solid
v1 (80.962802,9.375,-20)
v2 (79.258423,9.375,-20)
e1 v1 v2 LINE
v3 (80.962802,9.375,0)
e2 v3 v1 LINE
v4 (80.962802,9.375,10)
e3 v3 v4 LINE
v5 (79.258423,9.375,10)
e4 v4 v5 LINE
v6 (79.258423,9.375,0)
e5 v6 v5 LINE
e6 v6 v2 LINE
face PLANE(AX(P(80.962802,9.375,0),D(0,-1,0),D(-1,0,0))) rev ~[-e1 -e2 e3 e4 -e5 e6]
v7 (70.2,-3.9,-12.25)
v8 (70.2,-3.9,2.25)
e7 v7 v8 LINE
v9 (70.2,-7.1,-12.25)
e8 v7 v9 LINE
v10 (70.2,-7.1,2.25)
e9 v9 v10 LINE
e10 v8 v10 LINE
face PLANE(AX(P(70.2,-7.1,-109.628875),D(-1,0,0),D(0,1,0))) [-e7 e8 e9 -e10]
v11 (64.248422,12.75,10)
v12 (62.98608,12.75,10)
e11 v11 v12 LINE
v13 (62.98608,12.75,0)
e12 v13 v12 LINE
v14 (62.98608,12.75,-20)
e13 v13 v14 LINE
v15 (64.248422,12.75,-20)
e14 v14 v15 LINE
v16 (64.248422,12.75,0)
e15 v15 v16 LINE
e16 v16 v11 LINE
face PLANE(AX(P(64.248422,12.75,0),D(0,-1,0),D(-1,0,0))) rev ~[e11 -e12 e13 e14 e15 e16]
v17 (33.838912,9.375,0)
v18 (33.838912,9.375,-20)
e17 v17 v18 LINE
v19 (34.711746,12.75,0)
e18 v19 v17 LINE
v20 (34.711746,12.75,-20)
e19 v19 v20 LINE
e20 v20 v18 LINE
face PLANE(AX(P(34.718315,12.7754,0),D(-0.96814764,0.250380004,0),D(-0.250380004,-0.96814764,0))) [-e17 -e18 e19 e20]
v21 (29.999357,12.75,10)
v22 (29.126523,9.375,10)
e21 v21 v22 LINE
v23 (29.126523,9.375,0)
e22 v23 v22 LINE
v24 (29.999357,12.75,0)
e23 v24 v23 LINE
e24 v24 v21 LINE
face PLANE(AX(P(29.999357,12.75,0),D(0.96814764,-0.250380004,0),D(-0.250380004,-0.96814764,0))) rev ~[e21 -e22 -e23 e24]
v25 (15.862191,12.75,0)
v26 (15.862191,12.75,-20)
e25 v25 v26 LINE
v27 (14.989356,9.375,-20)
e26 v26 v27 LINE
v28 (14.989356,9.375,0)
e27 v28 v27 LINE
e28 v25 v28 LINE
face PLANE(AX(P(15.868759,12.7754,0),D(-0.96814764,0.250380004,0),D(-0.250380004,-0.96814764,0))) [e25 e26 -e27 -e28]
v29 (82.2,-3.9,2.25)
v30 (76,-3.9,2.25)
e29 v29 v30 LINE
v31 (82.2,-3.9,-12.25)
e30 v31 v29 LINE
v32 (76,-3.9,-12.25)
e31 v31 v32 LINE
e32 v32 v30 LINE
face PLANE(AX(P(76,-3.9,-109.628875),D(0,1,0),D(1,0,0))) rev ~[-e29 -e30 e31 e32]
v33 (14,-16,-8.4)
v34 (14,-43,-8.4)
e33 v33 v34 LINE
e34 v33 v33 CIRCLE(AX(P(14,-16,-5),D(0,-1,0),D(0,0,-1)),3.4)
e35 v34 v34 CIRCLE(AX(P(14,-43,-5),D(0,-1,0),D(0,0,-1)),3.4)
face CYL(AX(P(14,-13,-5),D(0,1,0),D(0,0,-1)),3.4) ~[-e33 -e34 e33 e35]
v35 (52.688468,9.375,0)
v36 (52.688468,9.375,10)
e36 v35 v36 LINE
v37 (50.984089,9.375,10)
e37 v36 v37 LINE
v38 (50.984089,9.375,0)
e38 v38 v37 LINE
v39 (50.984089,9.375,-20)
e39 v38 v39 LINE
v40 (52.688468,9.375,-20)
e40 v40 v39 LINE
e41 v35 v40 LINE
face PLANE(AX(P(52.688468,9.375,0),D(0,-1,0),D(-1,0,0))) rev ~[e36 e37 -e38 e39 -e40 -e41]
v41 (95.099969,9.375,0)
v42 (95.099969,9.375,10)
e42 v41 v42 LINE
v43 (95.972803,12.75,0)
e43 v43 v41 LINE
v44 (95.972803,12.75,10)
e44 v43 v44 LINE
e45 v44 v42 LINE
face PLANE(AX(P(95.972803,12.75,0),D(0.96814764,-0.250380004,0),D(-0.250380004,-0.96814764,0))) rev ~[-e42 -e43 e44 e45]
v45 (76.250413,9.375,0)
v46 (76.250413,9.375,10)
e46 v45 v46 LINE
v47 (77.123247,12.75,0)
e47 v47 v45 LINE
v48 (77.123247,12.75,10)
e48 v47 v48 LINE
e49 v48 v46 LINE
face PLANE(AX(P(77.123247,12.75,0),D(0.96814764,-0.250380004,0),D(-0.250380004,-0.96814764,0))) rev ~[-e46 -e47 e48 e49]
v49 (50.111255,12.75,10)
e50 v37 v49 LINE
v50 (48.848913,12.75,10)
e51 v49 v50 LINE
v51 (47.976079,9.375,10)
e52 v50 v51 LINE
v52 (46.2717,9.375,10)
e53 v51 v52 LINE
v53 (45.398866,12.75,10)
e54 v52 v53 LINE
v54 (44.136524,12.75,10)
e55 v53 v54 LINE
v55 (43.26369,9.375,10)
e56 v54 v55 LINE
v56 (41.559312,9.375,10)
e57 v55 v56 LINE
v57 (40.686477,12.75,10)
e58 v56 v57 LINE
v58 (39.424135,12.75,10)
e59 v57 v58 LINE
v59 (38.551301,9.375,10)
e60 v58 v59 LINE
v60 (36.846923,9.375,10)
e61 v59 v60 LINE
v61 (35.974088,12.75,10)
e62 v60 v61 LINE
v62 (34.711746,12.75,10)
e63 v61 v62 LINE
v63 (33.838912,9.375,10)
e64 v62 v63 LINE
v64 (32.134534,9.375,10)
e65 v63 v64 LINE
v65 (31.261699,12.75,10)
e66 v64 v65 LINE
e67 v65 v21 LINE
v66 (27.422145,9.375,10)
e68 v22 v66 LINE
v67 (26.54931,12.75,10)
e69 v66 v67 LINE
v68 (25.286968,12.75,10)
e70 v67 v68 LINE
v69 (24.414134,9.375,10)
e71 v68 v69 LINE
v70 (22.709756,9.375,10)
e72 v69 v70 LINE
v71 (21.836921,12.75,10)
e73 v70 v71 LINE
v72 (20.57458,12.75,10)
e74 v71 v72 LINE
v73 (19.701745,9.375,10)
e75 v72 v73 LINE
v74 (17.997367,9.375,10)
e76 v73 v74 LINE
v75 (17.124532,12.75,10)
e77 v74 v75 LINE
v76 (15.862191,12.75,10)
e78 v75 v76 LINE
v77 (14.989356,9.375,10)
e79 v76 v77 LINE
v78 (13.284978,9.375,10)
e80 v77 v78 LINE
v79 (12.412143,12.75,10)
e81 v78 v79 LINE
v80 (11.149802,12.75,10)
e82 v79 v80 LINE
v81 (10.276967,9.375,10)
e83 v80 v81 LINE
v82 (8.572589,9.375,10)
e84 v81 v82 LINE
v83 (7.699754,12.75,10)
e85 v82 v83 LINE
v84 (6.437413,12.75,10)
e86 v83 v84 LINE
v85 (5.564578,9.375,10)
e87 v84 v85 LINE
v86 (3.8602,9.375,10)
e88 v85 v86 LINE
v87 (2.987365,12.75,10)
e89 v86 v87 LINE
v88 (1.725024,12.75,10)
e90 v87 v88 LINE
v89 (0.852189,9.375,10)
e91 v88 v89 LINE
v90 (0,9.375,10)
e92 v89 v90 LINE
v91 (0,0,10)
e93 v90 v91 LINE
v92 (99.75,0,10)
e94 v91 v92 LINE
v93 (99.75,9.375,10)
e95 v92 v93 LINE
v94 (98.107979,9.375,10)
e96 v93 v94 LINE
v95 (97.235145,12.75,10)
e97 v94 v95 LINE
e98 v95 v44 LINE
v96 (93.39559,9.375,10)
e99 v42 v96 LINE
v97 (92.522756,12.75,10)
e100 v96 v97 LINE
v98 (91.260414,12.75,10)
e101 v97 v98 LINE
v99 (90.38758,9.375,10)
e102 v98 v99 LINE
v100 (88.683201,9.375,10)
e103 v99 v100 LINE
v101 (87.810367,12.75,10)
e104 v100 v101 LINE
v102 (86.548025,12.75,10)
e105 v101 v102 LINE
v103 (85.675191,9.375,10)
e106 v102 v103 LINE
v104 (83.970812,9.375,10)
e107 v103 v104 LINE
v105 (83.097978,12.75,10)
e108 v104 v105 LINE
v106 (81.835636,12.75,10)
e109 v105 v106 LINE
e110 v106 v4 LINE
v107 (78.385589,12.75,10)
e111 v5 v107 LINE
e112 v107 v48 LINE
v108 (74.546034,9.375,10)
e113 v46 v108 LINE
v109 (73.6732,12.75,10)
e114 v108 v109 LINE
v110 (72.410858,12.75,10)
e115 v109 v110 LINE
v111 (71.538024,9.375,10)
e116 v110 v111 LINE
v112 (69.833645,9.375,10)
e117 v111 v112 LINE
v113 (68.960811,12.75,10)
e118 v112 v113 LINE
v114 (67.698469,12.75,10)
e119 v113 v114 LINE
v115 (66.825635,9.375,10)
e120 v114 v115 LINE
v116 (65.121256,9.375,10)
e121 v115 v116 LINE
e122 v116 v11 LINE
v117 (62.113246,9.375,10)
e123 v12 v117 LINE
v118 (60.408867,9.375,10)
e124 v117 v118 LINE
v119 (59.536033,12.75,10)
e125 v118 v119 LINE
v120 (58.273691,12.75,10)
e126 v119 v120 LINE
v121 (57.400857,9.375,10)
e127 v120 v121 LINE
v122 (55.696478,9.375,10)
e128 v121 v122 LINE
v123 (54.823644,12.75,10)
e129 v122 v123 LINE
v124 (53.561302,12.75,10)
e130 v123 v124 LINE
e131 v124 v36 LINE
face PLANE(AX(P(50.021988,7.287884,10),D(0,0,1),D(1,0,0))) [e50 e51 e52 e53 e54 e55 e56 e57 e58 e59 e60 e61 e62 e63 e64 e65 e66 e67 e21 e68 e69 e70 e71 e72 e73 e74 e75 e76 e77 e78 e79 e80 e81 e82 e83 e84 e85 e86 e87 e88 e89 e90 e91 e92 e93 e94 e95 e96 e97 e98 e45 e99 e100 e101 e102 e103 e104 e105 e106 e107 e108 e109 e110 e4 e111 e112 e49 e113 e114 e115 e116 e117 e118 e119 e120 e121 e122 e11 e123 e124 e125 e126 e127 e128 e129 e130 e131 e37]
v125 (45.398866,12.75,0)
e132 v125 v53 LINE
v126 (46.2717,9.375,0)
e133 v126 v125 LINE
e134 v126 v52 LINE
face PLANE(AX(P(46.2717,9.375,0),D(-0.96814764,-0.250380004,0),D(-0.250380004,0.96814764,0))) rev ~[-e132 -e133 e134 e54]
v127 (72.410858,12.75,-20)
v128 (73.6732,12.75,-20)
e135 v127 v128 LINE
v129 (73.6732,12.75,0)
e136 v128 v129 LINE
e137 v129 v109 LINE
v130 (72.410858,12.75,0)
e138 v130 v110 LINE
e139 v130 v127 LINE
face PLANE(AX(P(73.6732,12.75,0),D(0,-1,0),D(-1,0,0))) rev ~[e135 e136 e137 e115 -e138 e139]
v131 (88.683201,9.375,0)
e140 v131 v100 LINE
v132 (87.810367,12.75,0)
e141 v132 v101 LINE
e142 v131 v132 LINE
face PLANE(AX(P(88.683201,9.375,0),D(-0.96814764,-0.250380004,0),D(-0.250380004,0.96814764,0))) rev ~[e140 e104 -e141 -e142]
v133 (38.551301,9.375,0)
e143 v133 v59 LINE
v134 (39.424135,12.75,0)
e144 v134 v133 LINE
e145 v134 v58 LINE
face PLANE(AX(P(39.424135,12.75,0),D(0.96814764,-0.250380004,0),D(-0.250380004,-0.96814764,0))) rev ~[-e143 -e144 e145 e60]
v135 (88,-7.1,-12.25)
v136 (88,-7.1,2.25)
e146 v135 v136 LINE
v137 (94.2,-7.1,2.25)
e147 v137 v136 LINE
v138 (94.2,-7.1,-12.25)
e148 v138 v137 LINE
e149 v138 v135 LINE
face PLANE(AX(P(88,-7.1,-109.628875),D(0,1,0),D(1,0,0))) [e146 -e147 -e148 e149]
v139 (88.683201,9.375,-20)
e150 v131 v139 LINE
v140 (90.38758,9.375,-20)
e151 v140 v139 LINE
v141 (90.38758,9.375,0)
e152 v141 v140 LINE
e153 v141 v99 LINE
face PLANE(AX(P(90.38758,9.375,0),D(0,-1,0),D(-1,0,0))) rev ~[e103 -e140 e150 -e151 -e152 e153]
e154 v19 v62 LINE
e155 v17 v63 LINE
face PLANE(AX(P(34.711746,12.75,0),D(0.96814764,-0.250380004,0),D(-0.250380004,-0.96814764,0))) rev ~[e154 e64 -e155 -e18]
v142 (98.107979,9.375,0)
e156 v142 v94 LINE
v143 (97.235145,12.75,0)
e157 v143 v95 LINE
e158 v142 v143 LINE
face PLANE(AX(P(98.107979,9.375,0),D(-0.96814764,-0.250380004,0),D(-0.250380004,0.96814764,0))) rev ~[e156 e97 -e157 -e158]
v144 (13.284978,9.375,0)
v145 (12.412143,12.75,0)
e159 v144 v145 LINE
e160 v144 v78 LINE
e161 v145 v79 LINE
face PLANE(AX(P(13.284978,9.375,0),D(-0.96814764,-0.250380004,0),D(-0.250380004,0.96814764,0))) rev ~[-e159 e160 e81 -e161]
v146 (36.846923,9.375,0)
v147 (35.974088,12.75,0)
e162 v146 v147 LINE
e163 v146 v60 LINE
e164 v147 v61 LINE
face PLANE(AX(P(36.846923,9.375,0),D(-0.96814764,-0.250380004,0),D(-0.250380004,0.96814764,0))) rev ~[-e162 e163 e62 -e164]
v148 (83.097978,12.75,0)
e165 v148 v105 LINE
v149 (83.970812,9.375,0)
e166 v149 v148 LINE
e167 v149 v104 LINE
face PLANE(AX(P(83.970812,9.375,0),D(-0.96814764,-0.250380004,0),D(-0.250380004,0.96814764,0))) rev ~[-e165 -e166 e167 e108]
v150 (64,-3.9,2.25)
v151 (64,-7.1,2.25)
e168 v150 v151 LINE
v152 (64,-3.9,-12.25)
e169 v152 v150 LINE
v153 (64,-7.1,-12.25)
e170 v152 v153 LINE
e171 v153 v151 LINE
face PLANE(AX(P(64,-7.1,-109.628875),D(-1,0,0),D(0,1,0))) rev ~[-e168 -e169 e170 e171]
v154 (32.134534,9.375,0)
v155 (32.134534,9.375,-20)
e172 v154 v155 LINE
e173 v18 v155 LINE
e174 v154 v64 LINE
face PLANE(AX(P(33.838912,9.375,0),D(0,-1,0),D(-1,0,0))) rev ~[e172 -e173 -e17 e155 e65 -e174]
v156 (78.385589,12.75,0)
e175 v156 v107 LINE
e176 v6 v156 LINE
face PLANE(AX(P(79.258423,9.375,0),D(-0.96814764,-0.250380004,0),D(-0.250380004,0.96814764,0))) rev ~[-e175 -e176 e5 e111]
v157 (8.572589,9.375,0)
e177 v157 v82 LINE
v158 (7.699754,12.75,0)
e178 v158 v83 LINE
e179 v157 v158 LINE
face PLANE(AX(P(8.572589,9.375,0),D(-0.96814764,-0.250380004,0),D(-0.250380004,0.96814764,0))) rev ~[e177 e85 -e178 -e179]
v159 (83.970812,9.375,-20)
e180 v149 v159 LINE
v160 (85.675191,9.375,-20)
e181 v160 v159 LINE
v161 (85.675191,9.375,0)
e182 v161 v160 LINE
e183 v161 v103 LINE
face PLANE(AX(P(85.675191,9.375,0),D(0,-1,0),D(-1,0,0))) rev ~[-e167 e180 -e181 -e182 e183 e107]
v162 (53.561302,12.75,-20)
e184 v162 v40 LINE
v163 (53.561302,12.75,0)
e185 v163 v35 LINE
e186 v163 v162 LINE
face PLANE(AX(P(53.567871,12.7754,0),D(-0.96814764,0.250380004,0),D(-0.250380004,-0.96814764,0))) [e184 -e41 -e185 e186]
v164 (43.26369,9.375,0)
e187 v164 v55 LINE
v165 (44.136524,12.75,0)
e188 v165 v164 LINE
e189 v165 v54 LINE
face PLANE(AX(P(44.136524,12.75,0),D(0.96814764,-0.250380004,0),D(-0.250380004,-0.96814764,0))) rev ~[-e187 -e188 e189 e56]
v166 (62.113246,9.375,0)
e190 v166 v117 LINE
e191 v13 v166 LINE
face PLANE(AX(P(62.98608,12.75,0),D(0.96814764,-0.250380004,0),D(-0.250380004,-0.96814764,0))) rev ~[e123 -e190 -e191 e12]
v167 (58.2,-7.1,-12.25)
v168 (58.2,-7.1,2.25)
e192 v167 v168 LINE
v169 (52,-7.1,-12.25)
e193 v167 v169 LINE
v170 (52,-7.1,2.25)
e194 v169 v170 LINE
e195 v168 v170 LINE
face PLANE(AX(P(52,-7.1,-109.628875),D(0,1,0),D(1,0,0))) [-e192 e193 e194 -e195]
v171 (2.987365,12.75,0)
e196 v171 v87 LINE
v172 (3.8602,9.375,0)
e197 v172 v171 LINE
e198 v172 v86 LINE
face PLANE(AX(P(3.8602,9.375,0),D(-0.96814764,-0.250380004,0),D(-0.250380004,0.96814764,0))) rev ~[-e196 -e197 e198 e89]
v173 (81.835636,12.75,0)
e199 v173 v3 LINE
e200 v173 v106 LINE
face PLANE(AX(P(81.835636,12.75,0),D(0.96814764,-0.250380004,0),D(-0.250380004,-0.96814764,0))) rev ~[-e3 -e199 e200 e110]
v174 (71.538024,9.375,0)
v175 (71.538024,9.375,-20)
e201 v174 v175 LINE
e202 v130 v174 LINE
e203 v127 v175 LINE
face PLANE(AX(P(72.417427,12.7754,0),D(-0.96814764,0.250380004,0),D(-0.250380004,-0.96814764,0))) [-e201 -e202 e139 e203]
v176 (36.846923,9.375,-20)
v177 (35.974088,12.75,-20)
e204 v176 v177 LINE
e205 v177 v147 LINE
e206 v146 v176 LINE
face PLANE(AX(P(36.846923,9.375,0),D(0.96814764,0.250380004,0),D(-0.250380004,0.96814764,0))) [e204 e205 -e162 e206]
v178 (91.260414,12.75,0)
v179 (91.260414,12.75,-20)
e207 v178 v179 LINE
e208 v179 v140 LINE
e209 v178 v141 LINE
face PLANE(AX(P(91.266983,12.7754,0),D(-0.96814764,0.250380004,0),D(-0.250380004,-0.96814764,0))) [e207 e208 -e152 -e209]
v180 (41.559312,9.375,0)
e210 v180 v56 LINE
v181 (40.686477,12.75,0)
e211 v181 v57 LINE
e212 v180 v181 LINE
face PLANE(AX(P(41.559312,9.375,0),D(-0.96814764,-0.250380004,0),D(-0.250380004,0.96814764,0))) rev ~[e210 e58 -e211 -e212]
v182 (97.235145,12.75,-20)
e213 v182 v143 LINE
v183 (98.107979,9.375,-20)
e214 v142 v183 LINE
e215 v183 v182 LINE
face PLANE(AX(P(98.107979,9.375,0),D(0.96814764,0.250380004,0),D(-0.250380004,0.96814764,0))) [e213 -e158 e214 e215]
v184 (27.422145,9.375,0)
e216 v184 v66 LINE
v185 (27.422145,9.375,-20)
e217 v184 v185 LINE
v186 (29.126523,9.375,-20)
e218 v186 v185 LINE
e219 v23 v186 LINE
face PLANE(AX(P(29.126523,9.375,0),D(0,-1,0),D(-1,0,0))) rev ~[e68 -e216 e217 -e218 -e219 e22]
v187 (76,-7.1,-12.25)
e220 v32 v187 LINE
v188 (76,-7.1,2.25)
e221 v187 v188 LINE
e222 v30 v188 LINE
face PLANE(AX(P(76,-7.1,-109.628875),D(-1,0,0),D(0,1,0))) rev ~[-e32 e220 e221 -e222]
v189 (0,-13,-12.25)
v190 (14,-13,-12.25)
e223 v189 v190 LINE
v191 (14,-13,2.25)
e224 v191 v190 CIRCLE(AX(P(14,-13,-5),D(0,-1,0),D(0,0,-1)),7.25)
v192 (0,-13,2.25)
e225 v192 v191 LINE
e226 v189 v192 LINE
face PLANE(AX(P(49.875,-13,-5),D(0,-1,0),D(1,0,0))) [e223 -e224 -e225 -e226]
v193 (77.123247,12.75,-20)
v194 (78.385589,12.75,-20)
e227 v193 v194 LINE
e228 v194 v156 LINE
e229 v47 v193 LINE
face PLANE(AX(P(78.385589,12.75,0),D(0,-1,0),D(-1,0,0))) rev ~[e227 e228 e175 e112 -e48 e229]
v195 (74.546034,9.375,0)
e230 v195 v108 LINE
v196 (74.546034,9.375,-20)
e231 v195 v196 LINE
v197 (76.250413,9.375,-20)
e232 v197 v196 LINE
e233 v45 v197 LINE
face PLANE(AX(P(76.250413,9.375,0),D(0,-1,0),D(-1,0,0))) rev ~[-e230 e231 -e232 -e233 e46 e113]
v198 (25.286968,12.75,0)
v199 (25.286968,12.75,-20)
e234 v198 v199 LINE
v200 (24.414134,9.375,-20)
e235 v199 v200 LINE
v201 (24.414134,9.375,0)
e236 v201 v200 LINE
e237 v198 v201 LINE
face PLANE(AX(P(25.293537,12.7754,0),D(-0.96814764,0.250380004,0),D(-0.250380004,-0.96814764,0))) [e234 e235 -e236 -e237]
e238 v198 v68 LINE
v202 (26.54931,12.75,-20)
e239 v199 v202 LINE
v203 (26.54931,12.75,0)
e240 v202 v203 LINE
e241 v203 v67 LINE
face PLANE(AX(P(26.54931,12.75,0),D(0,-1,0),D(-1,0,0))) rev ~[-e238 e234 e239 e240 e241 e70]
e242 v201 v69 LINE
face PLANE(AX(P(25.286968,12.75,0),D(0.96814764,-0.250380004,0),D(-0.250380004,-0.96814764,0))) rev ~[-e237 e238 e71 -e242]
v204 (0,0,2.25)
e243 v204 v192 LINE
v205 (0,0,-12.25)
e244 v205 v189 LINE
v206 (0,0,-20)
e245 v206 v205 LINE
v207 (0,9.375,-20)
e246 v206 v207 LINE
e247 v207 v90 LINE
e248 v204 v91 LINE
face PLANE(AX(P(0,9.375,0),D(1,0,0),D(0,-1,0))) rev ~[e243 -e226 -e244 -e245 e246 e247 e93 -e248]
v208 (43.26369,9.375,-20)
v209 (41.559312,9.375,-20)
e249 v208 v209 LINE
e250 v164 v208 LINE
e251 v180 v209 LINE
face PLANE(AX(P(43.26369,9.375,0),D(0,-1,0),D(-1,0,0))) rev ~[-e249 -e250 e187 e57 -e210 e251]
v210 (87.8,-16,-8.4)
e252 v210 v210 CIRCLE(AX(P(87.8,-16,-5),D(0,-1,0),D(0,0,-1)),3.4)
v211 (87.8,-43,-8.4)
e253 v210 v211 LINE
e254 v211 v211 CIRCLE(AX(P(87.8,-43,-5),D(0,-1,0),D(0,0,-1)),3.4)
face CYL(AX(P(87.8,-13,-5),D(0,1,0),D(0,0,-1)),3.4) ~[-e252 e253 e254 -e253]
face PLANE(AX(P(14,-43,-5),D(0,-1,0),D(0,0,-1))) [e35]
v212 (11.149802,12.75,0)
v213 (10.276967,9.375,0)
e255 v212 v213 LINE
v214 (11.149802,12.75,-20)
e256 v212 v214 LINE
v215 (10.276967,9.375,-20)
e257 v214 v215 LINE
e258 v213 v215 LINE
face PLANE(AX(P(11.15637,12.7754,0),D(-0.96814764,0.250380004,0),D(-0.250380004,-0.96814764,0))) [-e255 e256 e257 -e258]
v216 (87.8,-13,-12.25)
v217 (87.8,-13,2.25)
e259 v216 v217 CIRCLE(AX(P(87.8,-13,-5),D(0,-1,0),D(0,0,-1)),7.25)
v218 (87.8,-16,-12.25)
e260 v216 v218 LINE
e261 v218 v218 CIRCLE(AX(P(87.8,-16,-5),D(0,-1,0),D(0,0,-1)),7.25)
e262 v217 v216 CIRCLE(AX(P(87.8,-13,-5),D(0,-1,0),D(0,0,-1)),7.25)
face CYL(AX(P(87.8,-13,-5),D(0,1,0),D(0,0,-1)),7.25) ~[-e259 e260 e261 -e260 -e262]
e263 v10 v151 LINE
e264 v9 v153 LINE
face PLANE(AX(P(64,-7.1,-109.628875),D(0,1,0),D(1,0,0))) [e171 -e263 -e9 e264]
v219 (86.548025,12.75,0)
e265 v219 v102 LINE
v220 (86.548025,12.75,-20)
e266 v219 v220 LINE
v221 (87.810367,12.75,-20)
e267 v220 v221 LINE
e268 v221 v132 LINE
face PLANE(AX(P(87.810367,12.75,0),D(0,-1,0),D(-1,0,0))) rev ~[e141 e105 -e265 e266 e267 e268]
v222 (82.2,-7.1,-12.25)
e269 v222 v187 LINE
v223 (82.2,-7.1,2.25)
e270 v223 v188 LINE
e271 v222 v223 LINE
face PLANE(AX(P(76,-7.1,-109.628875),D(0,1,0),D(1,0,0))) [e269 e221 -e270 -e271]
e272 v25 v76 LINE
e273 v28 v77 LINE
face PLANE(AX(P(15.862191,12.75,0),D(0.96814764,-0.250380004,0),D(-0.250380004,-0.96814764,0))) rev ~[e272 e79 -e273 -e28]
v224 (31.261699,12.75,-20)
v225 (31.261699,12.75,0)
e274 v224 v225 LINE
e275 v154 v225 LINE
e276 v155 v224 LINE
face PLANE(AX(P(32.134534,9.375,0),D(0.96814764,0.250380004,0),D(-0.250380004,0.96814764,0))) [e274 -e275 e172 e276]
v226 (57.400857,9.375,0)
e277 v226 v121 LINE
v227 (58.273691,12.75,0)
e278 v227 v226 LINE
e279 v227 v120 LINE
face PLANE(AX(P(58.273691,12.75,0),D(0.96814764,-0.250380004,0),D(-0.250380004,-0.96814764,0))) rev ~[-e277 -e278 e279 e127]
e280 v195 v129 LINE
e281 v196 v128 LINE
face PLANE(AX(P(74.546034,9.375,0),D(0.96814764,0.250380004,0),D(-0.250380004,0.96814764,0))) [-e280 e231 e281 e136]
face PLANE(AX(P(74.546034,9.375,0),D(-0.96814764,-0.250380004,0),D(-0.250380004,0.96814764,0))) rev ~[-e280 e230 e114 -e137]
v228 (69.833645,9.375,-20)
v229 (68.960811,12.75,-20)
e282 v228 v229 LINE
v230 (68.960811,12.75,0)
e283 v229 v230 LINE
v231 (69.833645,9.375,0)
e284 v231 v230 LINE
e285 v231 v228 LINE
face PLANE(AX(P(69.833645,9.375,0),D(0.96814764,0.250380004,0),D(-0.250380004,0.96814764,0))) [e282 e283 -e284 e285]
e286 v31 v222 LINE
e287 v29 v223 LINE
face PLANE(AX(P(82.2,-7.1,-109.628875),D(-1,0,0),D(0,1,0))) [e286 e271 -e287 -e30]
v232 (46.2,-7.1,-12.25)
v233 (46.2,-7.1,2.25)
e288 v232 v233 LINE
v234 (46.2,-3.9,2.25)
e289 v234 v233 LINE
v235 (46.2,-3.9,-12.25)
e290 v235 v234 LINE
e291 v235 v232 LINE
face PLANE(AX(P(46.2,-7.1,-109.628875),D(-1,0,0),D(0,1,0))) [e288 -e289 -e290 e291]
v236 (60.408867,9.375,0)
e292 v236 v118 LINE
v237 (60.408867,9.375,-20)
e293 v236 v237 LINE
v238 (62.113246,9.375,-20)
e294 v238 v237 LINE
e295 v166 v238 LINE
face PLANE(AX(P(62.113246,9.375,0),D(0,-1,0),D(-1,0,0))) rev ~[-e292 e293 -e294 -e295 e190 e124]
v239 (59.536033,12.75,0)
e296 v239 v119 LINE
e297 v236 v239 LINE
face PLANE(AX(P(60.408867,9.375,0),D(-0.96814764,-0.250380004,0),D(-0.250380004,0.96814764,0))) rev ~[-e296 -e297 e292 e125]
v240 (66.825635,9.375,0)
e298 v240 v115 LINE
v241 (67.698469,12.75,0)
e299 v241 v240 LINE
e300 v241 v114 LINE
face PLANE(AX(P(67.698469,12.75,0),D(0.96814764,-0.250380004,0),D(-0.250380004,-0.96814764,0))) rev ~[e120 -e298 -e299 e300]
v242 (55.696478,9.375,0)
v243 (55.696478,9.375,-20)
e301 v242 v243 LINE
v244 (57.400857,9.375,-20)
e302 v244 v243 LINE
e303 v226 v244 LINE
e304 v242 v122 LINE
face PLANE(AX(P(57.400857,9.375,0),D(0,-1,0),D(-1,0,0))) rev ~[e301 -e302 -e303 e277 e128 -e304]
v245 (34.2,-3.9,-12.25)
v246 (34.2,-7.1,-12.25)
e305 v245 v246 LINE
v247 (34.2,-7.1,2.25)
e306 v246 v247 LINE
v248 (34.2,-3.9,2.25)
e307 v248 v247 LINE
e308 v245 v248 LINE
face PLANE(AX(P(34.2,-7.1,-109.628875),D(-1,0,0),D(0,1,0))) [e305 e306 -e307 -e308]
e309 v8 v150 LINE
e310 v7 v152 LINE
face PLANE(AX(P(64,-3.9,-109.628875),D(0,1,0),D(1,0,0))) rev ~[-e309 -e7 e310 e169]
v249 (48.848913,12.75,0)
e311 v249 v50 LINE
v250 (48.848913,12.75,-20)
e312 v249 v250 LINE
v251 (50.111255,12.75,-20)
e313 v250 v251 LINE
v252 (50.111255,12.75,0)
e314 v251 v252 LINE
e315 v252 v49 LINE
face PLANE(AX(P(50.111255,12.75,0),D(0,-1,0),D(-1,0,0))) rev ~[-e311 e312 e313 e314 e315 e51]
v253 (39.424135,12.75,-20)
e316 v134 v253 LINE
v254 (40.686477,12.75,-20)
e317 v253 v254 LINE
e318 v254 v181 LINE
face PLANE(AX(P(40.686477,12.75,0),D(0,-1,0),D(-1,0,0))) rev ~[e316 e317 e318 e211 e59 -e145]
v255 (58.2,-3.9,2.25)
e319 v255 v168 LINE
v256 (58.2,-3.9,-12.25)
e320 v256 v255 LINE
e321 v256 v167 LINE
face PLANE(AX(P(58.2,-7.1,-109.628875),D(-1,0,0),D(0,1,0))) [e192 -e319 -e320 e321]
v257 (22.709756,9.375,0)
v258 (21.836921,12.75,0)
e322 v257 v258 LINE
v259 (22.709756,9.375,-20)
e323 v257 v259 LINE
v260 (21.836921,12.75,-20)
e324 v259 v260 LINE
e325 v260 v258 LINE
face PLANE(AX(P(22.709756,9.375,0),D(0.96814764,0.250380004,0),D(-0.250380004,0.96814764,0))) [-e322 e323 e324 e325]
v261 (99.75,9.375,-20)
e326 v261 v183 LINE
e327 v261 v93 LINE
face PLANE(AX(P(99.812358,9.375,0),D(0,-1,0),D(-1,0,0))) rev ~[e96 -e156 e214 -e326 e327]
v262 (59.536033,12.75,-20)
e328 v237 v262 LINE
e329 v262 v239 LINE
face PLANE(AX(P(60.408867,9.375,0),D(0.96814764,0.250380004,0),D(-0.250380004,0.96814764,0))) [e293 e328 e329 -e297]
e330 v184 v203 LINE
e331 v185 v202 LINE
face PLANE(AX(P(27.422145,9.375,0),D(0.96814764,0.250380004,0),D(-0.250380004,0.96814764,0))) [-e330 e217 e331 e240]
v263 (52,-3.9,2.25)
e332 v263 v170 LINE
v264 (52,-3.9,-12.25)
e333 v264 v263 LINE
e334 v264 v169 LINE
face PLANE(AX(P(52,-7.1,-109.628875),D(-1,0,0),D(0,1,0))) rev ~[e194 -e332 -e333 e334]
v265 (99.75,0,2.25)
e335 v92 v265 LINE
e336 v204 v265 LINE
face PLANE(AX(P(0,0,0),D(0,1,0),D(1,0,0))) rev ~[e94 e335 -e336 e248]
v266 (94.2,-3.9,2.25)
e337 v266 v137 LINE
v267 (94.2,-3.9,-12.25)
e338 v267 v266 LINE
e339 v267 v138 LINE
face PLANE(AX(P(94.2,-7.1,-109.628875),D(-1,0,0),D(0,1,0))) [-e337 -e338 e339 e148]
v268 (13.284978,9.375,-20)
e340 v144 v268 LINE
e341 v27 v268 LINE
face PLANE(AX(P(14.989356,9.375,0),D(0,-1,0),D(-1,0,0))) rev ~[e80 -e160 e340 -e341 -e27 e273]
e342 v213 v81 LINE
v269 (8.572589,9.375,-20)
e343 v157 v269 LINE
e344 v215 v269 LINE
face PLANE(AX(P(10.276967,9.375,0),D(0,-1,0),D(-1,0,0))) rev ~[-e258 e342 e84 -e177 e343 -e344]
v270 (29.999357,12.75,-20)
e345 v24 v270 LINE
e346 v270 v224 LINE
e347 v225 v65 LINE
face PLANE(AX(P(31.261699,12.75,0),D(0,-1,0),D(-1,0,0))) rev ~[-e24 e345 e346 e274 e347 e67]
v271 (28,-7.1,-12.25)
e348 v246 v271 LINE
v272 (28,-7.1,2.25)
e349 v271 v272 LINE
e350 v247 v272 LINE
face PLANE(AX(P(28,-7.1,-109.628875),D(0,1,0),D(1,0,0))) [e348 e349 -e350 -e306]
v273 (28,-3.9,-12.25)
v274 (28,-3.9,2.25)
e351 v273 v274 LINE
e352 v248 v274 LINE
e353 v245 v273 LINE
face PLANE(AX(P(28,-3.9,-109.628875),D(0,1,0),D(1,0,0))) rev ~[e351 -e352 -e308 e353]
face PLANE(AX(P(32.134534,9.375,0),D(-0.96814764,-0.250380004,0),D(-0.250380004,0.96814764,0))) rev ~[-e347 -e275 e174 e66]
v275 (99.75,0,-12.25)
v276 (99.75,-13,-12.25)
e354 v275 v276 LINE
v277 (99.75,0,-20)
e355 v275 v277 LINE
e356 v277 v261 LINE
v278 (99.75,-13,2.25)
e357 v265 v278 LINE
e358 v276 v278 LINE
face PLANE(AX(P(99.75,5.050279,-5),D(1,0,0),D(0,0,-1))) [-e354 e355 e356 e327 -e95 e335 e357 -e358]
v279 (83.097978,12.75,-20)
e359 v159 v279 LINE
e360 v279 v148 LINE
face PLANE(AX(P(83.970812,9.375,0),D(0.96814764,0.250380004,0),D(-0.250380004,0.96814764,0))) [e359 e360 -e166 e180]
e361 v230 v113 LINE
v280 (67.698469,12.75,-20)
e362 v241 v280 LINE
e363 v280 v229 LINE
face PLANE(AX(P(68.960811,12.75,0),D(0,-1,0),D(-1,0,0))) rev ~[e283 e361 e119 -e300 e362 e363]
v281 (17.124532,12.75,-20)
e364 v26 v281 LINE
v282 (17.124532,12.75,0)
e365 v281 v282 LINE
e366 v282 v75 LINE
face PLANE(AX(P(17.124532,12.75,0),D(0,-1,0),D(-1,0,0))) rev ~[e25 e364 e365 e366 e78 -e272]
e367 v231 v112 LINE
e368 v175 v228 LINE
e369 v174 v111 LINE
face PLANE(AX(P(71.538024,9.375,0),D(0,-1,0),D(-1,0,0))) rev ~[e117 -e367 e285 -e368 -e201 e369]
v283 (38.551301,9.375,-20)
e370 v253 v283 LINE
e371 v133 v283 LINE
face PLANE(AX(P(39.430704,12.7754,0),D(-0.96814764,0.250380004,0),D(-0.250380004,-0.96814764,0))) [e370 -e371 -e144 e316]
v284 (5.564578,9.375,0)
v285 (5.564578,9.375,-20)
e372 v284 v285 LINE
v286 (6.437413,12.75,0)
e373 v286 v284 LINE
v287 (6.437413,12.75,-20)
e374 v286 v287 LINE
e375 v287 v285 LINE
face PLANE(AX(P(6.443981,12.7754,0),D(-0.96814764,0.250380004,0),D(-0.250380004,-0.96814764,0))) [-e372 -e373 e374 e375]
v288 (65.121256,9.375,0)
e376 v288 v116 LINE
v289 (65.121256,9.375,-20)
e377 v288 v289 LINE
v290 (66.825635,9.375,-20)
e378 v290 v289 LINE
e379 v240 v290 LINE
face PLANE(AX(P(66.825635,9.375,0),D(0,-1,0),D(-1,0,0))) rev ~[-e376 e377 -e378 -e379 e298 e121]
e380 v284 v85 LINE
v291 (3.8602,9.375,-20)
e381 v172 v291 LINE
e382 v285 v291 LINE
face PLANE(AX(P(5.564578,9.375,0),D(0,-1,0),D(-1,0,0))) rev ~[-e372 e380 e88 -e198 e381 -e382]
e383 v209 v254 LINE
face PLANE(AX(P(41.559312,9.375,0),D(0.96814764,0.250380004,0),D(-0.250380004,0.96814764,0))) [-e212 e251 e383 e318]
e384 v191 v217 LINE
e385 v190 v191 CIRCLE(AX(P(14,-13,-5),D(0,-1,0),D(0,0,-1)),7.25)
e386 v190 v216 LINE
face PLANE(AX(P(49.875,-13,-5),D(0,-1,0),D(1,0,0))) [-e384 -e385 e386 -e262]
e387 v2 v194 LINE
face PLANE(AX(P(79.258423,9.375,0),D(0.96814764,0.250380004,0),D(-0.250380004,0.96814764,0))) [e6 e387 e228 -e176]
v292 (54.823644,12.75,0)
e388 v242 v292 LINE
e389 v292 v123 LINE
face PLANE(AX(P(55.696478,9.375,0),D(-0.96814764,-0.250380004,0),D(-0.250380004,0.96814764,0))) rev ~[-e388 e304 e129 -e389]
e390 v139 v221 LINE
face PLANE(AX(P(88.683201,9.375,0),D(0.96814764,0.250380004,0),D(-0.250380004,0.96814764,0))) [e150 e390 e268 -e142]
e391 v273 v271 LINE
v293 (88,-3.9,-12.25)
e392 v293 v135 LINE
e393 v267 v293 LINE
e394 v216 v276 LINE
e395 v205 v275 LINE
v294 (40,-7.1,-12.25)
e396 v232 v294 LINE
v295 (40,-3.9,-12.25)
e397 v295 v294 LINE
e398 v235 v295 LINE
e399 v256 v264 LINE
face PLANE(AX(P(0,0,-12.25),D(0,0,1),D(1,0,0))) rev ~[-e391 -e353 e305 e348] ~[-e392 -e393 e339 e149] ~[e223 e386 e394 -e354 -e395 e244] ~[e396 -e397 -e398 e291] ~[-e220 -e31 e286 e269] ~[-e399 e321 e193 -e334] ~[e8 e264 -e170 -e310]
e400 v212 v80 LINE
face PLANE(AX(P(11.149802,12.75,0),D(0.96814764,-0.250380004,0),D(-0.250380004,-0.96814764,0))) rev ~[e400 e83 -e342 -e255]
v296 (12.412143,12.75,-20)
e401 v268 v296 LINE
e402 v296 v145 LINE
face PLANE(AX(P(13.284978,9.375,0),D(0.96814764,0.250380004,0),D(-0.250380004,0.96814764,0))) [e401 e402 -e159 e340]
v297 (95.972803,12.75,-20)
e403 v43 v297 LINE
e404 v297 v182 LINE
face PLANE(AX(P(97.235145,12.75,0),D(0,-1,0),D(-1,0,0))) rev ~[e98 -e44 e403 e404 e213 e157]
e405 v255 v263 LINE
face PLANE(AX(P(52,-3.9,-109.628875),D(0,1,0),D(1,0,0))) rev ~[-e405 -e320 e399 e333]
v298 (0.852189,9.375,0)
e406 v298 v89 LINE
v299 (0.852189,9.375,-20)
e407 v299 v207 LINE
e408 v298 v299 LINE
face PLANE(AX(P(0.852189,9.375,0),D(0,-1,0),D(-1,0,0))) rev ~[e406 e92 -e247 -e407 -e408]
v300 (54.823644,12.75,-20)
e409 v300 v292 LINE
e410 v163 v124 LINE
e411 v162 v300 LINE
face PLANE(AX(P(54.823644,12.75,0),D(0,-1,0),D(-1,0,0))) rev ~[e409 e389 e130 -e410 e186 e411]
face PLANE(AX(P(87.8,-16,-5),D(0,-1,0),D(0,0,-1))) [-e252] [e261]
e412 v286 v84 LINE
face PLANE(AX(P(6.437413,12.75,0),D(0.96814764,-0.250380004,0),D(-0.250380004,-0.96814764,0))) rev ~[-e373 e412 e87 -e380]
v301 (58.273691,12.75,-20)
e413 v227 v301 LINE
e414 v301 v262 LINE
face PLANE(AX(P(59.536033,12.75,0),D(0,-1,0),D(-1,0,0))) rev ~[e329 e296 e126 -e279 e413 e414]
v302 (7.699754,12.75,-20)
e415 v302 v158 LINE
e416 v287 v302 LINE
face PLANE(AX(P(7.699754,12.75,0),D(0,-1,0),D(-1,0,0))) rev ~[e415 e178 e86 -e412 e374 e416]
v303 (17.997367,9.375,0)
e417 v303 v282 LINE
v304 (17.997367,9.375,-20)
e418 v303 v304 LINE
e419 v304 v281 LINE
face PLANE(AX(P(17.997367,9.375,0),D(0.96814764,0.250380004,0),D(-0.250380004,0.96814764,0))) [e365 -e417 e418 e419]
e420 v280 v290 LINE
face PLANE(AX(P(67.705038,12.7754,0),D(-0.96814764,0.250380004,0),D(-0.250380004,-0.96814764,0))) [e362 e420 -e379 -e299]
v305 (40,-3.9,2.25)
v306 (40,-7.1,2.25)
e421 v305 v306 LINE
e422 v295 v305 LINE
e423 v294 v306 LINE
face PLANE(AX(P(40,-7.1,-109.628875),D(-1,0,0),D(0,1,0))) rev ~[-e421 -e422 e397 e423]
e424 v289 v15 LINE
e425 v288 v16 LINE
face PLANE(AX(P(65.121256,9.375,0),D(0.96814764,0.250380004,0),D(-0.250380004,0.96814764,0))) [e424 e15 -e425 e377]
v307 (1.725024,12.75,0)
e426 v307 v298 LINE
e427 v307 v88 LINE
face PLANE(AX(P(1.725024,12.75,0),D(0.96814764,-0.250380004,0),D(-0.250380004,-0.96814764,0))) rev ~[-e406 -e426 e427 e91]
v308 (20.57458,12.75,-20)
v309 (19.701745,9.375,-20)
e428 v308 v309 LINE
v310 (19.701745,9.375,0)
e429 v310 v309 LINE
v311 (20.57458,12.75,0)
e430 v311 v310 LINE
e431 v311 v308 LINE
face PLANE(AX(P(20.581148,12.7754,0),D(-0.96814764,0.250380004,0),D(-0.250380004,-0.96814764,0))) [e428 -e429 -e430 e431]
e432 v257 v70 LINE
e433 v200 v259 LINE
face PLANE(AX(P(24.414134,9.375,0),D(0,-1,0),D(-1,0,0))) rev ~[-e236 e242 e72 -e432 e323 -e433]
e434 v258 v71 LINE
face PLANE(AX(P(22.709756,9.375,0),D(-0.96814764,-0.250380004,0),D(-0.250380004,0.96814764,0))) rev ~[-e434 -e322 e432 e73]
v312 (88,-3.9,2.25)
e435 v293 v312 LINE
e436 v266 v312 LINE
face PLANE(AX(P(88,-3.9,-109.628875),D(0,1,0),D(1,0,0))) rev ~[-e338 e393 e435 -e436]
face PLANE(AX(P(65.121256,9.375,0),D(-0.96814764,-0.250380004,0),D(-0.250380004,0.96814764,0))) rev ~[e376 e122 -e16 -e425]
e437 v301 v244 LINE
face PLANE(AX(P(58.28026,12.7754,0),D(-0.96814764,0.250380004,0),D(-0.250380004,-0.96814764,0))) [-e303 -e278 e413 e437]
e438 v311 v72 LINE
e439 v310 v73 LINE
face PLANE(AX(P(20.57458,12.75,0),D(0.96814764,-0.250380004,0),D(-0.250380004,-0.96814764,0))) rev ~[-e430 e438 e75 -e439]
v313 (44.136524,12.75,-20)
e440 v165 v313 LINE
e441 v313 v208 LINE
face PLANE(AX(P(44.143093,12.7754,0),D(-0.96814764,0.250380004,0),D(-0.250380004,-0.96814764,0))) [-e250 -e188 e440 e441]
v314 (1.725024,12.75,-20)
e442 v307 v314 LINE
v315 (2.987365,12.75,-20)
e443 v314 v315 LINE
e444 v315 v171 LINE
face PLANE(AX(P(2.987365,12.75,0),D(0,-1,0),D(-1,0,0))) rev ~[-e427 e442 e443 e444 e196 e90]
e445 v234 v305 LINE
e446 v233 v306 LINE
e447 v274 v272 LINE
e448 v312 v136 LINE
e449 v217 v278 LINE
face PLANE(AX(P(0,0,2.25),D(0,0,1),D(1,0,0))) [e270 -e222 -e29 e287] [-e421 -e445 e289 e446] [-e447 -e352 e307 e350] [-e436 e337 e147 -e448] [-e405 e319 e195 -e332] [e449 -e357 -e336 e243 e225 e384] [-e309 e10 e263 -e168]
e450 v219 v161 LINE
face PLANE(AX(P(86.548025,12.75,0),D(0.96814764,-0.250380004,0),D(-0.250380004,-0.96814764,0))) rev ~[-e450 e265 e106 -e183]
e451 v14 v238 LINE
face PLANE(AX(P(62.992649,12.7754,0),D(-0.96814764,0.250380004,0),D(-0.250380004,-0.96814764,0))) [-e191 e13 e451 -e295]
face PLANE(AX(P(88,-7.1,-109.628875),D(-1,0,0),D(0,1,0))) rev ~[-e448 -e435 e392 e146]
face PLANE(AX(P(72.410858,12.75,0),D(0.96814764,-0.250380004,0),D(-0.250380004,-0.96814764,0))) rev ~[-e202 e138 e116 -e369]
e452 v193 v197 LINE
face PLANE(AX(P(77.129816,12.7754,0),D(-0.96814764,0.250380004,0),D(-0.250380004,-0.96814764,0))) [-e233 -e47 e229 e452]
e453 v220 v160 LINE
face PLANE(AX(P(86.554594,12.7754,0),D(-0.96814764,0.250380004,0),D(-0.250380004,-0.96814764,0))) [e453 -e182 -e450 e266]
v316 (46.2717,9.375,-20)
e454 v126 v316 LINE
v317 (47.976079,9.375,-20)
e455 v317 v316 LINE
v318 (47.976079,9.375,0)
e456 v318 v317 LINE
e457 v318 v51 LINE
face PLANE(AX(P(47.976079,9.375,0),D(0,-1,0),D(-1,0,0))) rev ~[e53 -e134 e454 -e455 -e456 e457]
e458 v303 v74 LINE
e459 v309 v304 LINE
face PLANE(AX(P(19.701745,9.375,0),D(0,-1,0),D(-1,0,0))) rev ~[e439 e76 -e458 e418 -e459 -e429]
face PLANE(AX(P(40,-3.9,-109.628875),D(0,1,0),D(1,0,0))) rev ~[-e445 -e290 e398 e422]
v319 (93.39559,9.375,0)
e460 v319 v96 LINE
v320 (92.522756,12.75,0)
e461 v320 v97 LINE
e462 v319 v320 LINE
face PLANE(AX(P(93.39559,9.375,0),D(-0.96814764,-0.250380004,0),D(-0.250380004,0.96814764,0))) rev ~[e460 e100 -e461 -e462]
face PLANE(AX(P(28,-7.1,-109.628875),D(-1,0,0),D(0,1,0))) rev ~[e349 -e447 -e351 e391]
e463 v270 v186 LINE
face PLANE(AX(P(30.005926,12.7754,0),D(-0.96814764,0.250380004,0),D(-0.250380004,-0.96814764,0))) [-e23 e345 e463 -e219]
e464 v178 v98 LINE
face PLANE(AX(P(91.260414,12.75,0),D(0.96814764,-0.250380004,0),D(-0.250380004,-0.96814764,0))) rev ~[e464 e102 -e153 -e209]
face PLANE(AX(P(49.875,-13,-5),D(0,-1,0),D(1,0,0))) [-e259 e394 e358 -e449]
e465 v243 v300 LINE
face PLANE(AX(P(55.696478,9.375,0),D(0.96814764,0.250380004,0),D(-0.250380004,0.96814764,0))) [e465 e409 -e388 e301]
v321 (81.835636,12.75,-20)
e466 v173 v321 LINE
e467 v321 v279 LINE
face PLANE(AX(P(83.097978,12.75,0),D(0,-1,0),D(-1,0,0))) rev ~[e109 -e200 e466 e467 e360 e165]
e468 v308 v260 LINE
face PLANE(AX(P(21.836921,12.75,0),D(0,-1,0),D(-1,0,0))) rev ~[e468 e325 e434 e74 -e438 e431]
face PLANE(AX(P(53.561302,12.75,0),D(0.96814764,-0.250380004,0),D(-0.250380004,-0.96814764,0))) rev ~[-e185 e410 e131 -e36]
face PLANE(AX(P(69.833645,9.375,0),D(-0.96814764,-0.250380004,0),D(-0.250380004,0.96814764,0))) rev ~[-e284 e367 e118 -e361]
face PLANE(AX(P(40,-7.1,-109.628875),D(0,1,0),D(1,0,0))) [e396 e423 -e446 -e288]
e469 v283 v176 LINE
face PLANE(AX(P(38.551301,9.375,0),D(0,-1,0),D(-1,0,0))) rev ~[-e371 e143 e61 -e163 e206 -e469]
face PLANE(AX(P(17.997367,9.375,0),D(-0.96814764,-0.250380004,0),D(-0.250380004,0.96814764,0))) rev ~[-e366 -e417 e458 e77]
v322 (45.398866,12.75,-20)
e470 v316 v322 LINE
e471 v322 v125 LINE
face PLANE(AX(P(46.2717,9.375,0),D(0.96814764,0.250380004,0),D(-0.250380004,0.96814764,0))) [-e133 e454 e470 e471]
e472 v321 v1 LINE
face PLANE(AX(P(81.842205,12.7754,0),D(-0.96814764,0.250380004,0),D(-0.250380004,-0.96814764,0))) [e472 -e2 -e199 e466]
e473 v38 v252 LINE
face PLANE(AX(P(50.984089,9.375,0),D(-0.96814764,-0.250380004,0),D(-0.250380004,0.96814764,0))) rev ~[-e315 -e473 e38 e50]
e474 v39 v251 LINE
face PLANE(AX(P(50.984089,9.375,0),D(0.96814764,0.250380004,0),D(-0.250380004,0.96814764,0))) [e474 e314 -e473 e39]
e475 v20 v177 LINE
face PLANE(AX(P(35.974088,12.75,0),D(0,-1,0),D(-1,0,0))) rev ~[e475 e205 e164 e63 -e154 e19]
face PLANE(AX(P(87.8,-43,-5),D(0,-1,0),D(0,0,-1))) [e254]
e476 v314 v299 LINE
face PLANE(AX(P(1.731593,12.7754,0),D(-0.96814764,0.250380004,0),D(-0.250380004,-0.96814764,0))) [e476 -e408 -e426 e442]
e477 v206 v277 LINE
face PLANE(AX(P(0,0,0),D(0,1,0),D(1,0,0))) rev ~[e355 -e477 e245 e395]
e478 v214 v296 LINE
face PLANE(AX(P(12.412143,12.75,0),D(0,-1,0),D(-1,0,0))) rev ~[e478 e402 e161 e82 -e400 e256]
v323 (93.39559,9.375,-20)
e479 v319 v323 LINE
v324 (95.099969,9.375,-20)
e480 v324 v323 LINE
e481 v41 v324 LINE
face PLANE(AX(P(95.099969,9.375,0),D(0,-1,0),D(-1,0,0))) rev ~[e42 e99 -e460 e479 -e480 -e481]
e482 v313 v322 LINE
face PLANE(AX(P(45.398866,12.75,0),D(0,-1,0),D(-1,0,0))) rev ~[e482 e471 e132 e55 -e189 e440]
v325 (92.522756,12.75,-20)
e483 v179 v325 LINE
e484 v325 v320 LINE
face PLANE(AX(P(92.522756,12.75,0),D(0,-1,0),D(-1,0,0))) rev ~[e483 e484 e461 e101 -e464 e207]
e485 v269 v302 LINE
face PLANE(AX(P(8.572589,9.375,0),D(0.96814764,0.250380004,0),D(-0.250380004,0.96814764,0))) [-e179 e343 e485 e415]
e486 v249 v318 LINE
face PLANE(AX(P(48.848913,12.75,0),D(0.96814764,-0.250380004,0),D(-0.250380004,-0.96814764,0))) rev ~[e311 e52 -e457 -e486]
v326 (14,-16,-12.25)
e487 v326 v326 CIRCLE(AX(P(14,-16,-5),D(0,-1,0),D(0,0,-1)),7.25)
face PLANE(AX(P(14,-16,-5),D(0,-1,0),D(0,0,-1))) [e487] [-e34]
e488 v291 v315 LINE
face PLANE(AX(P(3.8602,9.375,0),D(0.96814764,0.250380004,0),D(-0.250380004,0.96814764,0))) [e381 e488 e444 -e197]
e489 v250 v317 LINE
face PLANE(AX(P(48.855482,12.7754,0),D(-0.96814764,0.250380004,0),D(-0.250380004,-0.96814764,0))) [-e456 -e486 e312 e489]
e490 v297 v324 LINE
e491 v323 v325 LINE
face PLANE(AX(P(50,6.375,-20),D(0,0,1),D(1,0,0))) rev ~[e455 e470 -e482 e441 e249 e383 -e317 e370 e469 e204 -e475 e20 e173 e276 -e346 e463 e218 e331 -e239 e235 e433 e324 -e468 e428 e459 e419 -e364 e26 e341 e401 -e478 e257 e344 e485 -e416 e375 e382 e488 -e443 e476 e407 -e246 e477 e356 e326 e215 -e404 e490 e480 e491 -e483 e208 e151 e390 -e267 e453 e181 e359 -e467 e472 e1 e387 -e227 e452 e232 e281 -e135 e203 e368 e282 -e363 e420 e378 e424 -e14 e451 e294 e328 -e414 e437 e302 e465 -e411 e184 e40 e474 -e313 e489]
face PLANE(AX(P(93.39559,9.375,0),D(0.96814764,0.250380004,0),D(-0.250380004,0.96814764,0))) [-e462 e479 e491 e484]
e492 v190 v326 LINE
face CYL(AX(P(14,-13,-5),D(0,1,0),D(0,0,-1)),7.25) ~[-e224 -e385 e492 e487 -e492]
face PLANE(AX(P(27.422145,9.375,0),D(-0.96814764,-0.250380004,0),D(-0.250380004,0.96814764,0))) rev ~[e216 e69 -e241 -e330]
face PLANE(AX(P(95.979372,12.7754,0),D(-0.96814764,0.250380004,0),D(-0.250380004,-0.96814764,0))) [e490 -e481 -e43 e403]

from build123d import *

# Parameters (mm, degrees)
BLANKSKE_W                 = 100
BLANKSKE_H                 = 12.75
BLANK_DEPTH                = 20
TOOTHCUTSIM_DEPTH          = 103.77432802
TEETHCUTS_COUNT            = 22
TEETHCUTS_PITCH            = 4.712388975
SALIENTE_EXTRUIR1_DEPTH    = 10
CORTAR_EXTRUIR1_DEPTH      = 103.77432802
CORTAR_EXTRUIR1_DEPTH_BACK = 0.25
CROQUIS12_W                = 30
CROQUIS12_H                = 10.100558753
CROQUIS13_W                = 99.75
CROQUIS13_H                = 14.5
SALIENTE_EXTRUIR6_DEPTH    = 13
CROQUIS14_R                = 7.25
CROQUIS14_R_2              = 3.4
SALIENTE_EXTRUIR7_DEPTH    = 3
CROQUIS15_R                = 3.4
SALIENTE_EXTRUIR8_DEPTH    = 30
CORTAR_EXTRUIR2_DEPTH      = 111.878875355
CORTAR_EXTRUIR2_DEPTH_BACK = 111.878875355
CROQUIS16_W                = 6.2
CROQUIS16_H                = 3.2


with BuildPart() as part:
    # BlankSke → Blank (new body)
    with BuildSketch(Plane.XY):
        with Locations((50, 6.375)):
            Rectangle(BLANKSKE_W, BLANKSKE_H)
    extrude(amount=-BLANK_DEPTH)

    # TooCutSkeSim → ToothCutSim (cut, through all)
    with BuildSketch(Plane.XY):
        Polygon((0.852189273, 9.375), (-0.852189273, 9.375), (-1.731592507, 12.7754), (1.731592507, 12.7754), align=None)
    toothcutsim = extrude(amount=-TOOTHCUTSIM_DEPTH, mode=Mode.SUBTRACT)

    # TeethCuts: ToothCutSim ×22
    with Locations(*[(i * TEETHCUTS_PITCH, 0, 0) for i in range(1, TEETHCUTS_COUNT)]):
        add(toothcutsim, mode=Mode.SUBTRACT)

    # Croquis1 → Saliente-Extruir1 (add)
    with BuildSketch(Plane.XY):
        Polygon((99.812357748, 9.375), (98.107979202, 9.375), (97.235144855, 12.75), (95.97280312, 12.75), (95.099968773, 9.375), (93.395590227, 9.375), (92.52275588, 12.75), (91.260414145, 12.75), (90.387579798, 9.375), (88.683201252, 9.375), (87.810366905, 12.75), (86.54802517, 12.75), (85.675190823, 9.375), (83.970812277, 9.375), (83.09797793, 12.75), (81.835636195, 12.75), (80.962801848, 9.375), (79.258423302, 9.375), (78.385588955, 12.75), (77.12324722, 12.75), (76.250412873, 9.375), (74.546034327, 9.375), (73.67319998, 12.75), (72.410858245, 12.75), (71.538023898, 9.375), (69.833645352, 9.375), (68.960811005, 12.75), (67.69846927, 12.75), (66.825634923, 9.375), (65.121256377, 9.375), (64.24842203, 12.75), (62.986080295, 12.75), (62.113245948, 9.375), (60.408867402, 9.375), (59.536033055, 12.75), (58.27369132, 12.75), (57.400856973, 9.375), (55.696478427, 9.375), (54.82364408, 12.75), (53.561302345, 12.75), (52.688467998, 9.375), (50.984089452, 9.375), (50.111255105, 12.75), (48.84891337, 12.75), (47.976079023, 9.375), (46.271700477, 9.375), (45.39886613, 12.75), (44.136524395, 12.75), (43.263690048, 9.375), (41.559311502, 9.375), (40.686477155, 12.75), (39.42413542, 12.75), (38.551301073, 9.375), (36.846922527, 9.375), (35.97408818, 12.75), (34.711746445, 12.75), (33.838912098, 9.375), (32.134533552, 9.375), (31.261699205, 12.75), (29.99935747, 12.75), (29.126523123, 9.375), (27.422144577, 9.375), (26.54931023, 12.75), (25.286968495, 12.75), (24.414134148, 9.375), (22.709755602, 9.375), (21.836921255, 12.75), (20.57457952, 12.75), (19.701745173, 9.375), (17.997366627, 9.375), (17.12453228, 12.75), (15.862190545, 12.75), (14.989356198, 9.375), (13.284977652, 9.375), (12.412143305, 12.75), (11.14980157, 12.75), (10.276967223, 9.375), (8.572588677, 9.375), (7.69975433, 12.75), (6.437412595, 12.75), (5.564578248, 9.375), (3.860199702, 9.375), (2.987365355, 12.75), (1.72502362, 12.75), (0.852189273, 9.375), (0, 9.375), (0, 0), (100, 0), (100, 10.100558753), align=None)
    extrude(amount=SALIENTE_EXTRUIR1_DEPTH)

    # Croquis12 → Cortar-Extruir1 (cut, two sides: drawn at the far end of the back side and taken through both)
    with BuildSketch(Plane(origin=(100, 0, 0), x_dir=(0, 0, -1), z_dir=(1, 0, 0)).offset(-CORTAR_EXTRUIR1_DEPTH_BACK)):
        with Locations((5, 5.050279377)):
            Rectangle(CROQUIS12_W, CROQUIS12_H)
    extrude(amount=CORTAR_EXTRUIR1_DEPTH + CORTAR_EXTRUIR1_DEPTH_BACK, mode=Mode.SUBTRACT)

    # Croquis13 → Saliente-Extruir6 (add)
    with BuildSketch(Plane.XZ):
        with Locations((49.875, -5)):
            Rectangle(CROQUIS13_W, CROQUIS13_H)
    extrude(amount=SALIENTE_EXTRUIR6_DEPTH)

    # Croquis14 → Saliente-Extruir7 (add)
    # profile 1 of 2: a face of its own
    with BuildSketch(Plane.XZ.offset(13)):
        with Locations(Location((14, -5, 0), (0, 0, 270))):
            Circle(CROQUIS14_R)
        with Locations(Location((14, -5, 0), (0, 0, 270))):
            Circle(CROQUIS14_R_2, mode=Mode.SUBTRACT)
    # profile 2 of 2: a face of its own
    with BuildSketch(Plane.XZ.offset(13)):
        with Locations(Location((87.8, -5, 0), (0, 0, 270))):
            Circle(CROQUIS14_R)
        with Locations(Location((87.8, -5, 0), (0, 0, 270))):
            Circle(CROQUIS14_R_2, mode=Mode.SUBTRACT)
    extrude(amount=SALIENTE_EXTRUIR7_DEPTH)

    # Croquis15 → Saliente-Extruir8 (add)
    with BuildSketch(Plane.XZ.offset(13)):
        with Locations(Location((87.8, -5, 0), (0, 0, 270))):
            Circle(CROQUIS15_R)
        with Locations(Location((14, -5, 0), (0, 0, 270))):
            Circle(CROQUIS15_R)
    extrude(amount=SALIENTE_EXTRUIR8_DEPTH)

    # Croquis16 → Cortar-Extruir2 (cut, two sides: drawn at the far end of the back side and taken through both)
    with BuildSketch(Plane.XY.offset(2.25).offset(-CORTAR_EXTRUIR2_DEPTH_BACK)):
        with Locations((43.1, -5.5)):
            Rectangle(CROQUIS16_W, CROQUIS16_H)
        with Locations((31.1, -5.5)):
            Rectangle(CROQUIS16_W, CROQUIS16_H)
        with Locations((55.1, -5.5)):
            Rectangle(CROQUIS16_W, CROQUIS16_H)
        with Locations((67.1, -5.5)):
            Rectangle(CROQUIS16_W, CROQUIS16_H)
        with Locations((79.1, -5.5)):
            Rectangle(CROQUIS16_W, CROQUIS16_H)
        with Locations((91.1, -5.5)):
            Rectangle(CROQUIS16_W, CROQUIS16_H)
    extrude(amount=CORTAR_EXTRUIR2_DEPTH + CORTAR_EXTRUIR2_DEPTH_BACK, mode=Mode.SUBTRACT)


solid = part.part
